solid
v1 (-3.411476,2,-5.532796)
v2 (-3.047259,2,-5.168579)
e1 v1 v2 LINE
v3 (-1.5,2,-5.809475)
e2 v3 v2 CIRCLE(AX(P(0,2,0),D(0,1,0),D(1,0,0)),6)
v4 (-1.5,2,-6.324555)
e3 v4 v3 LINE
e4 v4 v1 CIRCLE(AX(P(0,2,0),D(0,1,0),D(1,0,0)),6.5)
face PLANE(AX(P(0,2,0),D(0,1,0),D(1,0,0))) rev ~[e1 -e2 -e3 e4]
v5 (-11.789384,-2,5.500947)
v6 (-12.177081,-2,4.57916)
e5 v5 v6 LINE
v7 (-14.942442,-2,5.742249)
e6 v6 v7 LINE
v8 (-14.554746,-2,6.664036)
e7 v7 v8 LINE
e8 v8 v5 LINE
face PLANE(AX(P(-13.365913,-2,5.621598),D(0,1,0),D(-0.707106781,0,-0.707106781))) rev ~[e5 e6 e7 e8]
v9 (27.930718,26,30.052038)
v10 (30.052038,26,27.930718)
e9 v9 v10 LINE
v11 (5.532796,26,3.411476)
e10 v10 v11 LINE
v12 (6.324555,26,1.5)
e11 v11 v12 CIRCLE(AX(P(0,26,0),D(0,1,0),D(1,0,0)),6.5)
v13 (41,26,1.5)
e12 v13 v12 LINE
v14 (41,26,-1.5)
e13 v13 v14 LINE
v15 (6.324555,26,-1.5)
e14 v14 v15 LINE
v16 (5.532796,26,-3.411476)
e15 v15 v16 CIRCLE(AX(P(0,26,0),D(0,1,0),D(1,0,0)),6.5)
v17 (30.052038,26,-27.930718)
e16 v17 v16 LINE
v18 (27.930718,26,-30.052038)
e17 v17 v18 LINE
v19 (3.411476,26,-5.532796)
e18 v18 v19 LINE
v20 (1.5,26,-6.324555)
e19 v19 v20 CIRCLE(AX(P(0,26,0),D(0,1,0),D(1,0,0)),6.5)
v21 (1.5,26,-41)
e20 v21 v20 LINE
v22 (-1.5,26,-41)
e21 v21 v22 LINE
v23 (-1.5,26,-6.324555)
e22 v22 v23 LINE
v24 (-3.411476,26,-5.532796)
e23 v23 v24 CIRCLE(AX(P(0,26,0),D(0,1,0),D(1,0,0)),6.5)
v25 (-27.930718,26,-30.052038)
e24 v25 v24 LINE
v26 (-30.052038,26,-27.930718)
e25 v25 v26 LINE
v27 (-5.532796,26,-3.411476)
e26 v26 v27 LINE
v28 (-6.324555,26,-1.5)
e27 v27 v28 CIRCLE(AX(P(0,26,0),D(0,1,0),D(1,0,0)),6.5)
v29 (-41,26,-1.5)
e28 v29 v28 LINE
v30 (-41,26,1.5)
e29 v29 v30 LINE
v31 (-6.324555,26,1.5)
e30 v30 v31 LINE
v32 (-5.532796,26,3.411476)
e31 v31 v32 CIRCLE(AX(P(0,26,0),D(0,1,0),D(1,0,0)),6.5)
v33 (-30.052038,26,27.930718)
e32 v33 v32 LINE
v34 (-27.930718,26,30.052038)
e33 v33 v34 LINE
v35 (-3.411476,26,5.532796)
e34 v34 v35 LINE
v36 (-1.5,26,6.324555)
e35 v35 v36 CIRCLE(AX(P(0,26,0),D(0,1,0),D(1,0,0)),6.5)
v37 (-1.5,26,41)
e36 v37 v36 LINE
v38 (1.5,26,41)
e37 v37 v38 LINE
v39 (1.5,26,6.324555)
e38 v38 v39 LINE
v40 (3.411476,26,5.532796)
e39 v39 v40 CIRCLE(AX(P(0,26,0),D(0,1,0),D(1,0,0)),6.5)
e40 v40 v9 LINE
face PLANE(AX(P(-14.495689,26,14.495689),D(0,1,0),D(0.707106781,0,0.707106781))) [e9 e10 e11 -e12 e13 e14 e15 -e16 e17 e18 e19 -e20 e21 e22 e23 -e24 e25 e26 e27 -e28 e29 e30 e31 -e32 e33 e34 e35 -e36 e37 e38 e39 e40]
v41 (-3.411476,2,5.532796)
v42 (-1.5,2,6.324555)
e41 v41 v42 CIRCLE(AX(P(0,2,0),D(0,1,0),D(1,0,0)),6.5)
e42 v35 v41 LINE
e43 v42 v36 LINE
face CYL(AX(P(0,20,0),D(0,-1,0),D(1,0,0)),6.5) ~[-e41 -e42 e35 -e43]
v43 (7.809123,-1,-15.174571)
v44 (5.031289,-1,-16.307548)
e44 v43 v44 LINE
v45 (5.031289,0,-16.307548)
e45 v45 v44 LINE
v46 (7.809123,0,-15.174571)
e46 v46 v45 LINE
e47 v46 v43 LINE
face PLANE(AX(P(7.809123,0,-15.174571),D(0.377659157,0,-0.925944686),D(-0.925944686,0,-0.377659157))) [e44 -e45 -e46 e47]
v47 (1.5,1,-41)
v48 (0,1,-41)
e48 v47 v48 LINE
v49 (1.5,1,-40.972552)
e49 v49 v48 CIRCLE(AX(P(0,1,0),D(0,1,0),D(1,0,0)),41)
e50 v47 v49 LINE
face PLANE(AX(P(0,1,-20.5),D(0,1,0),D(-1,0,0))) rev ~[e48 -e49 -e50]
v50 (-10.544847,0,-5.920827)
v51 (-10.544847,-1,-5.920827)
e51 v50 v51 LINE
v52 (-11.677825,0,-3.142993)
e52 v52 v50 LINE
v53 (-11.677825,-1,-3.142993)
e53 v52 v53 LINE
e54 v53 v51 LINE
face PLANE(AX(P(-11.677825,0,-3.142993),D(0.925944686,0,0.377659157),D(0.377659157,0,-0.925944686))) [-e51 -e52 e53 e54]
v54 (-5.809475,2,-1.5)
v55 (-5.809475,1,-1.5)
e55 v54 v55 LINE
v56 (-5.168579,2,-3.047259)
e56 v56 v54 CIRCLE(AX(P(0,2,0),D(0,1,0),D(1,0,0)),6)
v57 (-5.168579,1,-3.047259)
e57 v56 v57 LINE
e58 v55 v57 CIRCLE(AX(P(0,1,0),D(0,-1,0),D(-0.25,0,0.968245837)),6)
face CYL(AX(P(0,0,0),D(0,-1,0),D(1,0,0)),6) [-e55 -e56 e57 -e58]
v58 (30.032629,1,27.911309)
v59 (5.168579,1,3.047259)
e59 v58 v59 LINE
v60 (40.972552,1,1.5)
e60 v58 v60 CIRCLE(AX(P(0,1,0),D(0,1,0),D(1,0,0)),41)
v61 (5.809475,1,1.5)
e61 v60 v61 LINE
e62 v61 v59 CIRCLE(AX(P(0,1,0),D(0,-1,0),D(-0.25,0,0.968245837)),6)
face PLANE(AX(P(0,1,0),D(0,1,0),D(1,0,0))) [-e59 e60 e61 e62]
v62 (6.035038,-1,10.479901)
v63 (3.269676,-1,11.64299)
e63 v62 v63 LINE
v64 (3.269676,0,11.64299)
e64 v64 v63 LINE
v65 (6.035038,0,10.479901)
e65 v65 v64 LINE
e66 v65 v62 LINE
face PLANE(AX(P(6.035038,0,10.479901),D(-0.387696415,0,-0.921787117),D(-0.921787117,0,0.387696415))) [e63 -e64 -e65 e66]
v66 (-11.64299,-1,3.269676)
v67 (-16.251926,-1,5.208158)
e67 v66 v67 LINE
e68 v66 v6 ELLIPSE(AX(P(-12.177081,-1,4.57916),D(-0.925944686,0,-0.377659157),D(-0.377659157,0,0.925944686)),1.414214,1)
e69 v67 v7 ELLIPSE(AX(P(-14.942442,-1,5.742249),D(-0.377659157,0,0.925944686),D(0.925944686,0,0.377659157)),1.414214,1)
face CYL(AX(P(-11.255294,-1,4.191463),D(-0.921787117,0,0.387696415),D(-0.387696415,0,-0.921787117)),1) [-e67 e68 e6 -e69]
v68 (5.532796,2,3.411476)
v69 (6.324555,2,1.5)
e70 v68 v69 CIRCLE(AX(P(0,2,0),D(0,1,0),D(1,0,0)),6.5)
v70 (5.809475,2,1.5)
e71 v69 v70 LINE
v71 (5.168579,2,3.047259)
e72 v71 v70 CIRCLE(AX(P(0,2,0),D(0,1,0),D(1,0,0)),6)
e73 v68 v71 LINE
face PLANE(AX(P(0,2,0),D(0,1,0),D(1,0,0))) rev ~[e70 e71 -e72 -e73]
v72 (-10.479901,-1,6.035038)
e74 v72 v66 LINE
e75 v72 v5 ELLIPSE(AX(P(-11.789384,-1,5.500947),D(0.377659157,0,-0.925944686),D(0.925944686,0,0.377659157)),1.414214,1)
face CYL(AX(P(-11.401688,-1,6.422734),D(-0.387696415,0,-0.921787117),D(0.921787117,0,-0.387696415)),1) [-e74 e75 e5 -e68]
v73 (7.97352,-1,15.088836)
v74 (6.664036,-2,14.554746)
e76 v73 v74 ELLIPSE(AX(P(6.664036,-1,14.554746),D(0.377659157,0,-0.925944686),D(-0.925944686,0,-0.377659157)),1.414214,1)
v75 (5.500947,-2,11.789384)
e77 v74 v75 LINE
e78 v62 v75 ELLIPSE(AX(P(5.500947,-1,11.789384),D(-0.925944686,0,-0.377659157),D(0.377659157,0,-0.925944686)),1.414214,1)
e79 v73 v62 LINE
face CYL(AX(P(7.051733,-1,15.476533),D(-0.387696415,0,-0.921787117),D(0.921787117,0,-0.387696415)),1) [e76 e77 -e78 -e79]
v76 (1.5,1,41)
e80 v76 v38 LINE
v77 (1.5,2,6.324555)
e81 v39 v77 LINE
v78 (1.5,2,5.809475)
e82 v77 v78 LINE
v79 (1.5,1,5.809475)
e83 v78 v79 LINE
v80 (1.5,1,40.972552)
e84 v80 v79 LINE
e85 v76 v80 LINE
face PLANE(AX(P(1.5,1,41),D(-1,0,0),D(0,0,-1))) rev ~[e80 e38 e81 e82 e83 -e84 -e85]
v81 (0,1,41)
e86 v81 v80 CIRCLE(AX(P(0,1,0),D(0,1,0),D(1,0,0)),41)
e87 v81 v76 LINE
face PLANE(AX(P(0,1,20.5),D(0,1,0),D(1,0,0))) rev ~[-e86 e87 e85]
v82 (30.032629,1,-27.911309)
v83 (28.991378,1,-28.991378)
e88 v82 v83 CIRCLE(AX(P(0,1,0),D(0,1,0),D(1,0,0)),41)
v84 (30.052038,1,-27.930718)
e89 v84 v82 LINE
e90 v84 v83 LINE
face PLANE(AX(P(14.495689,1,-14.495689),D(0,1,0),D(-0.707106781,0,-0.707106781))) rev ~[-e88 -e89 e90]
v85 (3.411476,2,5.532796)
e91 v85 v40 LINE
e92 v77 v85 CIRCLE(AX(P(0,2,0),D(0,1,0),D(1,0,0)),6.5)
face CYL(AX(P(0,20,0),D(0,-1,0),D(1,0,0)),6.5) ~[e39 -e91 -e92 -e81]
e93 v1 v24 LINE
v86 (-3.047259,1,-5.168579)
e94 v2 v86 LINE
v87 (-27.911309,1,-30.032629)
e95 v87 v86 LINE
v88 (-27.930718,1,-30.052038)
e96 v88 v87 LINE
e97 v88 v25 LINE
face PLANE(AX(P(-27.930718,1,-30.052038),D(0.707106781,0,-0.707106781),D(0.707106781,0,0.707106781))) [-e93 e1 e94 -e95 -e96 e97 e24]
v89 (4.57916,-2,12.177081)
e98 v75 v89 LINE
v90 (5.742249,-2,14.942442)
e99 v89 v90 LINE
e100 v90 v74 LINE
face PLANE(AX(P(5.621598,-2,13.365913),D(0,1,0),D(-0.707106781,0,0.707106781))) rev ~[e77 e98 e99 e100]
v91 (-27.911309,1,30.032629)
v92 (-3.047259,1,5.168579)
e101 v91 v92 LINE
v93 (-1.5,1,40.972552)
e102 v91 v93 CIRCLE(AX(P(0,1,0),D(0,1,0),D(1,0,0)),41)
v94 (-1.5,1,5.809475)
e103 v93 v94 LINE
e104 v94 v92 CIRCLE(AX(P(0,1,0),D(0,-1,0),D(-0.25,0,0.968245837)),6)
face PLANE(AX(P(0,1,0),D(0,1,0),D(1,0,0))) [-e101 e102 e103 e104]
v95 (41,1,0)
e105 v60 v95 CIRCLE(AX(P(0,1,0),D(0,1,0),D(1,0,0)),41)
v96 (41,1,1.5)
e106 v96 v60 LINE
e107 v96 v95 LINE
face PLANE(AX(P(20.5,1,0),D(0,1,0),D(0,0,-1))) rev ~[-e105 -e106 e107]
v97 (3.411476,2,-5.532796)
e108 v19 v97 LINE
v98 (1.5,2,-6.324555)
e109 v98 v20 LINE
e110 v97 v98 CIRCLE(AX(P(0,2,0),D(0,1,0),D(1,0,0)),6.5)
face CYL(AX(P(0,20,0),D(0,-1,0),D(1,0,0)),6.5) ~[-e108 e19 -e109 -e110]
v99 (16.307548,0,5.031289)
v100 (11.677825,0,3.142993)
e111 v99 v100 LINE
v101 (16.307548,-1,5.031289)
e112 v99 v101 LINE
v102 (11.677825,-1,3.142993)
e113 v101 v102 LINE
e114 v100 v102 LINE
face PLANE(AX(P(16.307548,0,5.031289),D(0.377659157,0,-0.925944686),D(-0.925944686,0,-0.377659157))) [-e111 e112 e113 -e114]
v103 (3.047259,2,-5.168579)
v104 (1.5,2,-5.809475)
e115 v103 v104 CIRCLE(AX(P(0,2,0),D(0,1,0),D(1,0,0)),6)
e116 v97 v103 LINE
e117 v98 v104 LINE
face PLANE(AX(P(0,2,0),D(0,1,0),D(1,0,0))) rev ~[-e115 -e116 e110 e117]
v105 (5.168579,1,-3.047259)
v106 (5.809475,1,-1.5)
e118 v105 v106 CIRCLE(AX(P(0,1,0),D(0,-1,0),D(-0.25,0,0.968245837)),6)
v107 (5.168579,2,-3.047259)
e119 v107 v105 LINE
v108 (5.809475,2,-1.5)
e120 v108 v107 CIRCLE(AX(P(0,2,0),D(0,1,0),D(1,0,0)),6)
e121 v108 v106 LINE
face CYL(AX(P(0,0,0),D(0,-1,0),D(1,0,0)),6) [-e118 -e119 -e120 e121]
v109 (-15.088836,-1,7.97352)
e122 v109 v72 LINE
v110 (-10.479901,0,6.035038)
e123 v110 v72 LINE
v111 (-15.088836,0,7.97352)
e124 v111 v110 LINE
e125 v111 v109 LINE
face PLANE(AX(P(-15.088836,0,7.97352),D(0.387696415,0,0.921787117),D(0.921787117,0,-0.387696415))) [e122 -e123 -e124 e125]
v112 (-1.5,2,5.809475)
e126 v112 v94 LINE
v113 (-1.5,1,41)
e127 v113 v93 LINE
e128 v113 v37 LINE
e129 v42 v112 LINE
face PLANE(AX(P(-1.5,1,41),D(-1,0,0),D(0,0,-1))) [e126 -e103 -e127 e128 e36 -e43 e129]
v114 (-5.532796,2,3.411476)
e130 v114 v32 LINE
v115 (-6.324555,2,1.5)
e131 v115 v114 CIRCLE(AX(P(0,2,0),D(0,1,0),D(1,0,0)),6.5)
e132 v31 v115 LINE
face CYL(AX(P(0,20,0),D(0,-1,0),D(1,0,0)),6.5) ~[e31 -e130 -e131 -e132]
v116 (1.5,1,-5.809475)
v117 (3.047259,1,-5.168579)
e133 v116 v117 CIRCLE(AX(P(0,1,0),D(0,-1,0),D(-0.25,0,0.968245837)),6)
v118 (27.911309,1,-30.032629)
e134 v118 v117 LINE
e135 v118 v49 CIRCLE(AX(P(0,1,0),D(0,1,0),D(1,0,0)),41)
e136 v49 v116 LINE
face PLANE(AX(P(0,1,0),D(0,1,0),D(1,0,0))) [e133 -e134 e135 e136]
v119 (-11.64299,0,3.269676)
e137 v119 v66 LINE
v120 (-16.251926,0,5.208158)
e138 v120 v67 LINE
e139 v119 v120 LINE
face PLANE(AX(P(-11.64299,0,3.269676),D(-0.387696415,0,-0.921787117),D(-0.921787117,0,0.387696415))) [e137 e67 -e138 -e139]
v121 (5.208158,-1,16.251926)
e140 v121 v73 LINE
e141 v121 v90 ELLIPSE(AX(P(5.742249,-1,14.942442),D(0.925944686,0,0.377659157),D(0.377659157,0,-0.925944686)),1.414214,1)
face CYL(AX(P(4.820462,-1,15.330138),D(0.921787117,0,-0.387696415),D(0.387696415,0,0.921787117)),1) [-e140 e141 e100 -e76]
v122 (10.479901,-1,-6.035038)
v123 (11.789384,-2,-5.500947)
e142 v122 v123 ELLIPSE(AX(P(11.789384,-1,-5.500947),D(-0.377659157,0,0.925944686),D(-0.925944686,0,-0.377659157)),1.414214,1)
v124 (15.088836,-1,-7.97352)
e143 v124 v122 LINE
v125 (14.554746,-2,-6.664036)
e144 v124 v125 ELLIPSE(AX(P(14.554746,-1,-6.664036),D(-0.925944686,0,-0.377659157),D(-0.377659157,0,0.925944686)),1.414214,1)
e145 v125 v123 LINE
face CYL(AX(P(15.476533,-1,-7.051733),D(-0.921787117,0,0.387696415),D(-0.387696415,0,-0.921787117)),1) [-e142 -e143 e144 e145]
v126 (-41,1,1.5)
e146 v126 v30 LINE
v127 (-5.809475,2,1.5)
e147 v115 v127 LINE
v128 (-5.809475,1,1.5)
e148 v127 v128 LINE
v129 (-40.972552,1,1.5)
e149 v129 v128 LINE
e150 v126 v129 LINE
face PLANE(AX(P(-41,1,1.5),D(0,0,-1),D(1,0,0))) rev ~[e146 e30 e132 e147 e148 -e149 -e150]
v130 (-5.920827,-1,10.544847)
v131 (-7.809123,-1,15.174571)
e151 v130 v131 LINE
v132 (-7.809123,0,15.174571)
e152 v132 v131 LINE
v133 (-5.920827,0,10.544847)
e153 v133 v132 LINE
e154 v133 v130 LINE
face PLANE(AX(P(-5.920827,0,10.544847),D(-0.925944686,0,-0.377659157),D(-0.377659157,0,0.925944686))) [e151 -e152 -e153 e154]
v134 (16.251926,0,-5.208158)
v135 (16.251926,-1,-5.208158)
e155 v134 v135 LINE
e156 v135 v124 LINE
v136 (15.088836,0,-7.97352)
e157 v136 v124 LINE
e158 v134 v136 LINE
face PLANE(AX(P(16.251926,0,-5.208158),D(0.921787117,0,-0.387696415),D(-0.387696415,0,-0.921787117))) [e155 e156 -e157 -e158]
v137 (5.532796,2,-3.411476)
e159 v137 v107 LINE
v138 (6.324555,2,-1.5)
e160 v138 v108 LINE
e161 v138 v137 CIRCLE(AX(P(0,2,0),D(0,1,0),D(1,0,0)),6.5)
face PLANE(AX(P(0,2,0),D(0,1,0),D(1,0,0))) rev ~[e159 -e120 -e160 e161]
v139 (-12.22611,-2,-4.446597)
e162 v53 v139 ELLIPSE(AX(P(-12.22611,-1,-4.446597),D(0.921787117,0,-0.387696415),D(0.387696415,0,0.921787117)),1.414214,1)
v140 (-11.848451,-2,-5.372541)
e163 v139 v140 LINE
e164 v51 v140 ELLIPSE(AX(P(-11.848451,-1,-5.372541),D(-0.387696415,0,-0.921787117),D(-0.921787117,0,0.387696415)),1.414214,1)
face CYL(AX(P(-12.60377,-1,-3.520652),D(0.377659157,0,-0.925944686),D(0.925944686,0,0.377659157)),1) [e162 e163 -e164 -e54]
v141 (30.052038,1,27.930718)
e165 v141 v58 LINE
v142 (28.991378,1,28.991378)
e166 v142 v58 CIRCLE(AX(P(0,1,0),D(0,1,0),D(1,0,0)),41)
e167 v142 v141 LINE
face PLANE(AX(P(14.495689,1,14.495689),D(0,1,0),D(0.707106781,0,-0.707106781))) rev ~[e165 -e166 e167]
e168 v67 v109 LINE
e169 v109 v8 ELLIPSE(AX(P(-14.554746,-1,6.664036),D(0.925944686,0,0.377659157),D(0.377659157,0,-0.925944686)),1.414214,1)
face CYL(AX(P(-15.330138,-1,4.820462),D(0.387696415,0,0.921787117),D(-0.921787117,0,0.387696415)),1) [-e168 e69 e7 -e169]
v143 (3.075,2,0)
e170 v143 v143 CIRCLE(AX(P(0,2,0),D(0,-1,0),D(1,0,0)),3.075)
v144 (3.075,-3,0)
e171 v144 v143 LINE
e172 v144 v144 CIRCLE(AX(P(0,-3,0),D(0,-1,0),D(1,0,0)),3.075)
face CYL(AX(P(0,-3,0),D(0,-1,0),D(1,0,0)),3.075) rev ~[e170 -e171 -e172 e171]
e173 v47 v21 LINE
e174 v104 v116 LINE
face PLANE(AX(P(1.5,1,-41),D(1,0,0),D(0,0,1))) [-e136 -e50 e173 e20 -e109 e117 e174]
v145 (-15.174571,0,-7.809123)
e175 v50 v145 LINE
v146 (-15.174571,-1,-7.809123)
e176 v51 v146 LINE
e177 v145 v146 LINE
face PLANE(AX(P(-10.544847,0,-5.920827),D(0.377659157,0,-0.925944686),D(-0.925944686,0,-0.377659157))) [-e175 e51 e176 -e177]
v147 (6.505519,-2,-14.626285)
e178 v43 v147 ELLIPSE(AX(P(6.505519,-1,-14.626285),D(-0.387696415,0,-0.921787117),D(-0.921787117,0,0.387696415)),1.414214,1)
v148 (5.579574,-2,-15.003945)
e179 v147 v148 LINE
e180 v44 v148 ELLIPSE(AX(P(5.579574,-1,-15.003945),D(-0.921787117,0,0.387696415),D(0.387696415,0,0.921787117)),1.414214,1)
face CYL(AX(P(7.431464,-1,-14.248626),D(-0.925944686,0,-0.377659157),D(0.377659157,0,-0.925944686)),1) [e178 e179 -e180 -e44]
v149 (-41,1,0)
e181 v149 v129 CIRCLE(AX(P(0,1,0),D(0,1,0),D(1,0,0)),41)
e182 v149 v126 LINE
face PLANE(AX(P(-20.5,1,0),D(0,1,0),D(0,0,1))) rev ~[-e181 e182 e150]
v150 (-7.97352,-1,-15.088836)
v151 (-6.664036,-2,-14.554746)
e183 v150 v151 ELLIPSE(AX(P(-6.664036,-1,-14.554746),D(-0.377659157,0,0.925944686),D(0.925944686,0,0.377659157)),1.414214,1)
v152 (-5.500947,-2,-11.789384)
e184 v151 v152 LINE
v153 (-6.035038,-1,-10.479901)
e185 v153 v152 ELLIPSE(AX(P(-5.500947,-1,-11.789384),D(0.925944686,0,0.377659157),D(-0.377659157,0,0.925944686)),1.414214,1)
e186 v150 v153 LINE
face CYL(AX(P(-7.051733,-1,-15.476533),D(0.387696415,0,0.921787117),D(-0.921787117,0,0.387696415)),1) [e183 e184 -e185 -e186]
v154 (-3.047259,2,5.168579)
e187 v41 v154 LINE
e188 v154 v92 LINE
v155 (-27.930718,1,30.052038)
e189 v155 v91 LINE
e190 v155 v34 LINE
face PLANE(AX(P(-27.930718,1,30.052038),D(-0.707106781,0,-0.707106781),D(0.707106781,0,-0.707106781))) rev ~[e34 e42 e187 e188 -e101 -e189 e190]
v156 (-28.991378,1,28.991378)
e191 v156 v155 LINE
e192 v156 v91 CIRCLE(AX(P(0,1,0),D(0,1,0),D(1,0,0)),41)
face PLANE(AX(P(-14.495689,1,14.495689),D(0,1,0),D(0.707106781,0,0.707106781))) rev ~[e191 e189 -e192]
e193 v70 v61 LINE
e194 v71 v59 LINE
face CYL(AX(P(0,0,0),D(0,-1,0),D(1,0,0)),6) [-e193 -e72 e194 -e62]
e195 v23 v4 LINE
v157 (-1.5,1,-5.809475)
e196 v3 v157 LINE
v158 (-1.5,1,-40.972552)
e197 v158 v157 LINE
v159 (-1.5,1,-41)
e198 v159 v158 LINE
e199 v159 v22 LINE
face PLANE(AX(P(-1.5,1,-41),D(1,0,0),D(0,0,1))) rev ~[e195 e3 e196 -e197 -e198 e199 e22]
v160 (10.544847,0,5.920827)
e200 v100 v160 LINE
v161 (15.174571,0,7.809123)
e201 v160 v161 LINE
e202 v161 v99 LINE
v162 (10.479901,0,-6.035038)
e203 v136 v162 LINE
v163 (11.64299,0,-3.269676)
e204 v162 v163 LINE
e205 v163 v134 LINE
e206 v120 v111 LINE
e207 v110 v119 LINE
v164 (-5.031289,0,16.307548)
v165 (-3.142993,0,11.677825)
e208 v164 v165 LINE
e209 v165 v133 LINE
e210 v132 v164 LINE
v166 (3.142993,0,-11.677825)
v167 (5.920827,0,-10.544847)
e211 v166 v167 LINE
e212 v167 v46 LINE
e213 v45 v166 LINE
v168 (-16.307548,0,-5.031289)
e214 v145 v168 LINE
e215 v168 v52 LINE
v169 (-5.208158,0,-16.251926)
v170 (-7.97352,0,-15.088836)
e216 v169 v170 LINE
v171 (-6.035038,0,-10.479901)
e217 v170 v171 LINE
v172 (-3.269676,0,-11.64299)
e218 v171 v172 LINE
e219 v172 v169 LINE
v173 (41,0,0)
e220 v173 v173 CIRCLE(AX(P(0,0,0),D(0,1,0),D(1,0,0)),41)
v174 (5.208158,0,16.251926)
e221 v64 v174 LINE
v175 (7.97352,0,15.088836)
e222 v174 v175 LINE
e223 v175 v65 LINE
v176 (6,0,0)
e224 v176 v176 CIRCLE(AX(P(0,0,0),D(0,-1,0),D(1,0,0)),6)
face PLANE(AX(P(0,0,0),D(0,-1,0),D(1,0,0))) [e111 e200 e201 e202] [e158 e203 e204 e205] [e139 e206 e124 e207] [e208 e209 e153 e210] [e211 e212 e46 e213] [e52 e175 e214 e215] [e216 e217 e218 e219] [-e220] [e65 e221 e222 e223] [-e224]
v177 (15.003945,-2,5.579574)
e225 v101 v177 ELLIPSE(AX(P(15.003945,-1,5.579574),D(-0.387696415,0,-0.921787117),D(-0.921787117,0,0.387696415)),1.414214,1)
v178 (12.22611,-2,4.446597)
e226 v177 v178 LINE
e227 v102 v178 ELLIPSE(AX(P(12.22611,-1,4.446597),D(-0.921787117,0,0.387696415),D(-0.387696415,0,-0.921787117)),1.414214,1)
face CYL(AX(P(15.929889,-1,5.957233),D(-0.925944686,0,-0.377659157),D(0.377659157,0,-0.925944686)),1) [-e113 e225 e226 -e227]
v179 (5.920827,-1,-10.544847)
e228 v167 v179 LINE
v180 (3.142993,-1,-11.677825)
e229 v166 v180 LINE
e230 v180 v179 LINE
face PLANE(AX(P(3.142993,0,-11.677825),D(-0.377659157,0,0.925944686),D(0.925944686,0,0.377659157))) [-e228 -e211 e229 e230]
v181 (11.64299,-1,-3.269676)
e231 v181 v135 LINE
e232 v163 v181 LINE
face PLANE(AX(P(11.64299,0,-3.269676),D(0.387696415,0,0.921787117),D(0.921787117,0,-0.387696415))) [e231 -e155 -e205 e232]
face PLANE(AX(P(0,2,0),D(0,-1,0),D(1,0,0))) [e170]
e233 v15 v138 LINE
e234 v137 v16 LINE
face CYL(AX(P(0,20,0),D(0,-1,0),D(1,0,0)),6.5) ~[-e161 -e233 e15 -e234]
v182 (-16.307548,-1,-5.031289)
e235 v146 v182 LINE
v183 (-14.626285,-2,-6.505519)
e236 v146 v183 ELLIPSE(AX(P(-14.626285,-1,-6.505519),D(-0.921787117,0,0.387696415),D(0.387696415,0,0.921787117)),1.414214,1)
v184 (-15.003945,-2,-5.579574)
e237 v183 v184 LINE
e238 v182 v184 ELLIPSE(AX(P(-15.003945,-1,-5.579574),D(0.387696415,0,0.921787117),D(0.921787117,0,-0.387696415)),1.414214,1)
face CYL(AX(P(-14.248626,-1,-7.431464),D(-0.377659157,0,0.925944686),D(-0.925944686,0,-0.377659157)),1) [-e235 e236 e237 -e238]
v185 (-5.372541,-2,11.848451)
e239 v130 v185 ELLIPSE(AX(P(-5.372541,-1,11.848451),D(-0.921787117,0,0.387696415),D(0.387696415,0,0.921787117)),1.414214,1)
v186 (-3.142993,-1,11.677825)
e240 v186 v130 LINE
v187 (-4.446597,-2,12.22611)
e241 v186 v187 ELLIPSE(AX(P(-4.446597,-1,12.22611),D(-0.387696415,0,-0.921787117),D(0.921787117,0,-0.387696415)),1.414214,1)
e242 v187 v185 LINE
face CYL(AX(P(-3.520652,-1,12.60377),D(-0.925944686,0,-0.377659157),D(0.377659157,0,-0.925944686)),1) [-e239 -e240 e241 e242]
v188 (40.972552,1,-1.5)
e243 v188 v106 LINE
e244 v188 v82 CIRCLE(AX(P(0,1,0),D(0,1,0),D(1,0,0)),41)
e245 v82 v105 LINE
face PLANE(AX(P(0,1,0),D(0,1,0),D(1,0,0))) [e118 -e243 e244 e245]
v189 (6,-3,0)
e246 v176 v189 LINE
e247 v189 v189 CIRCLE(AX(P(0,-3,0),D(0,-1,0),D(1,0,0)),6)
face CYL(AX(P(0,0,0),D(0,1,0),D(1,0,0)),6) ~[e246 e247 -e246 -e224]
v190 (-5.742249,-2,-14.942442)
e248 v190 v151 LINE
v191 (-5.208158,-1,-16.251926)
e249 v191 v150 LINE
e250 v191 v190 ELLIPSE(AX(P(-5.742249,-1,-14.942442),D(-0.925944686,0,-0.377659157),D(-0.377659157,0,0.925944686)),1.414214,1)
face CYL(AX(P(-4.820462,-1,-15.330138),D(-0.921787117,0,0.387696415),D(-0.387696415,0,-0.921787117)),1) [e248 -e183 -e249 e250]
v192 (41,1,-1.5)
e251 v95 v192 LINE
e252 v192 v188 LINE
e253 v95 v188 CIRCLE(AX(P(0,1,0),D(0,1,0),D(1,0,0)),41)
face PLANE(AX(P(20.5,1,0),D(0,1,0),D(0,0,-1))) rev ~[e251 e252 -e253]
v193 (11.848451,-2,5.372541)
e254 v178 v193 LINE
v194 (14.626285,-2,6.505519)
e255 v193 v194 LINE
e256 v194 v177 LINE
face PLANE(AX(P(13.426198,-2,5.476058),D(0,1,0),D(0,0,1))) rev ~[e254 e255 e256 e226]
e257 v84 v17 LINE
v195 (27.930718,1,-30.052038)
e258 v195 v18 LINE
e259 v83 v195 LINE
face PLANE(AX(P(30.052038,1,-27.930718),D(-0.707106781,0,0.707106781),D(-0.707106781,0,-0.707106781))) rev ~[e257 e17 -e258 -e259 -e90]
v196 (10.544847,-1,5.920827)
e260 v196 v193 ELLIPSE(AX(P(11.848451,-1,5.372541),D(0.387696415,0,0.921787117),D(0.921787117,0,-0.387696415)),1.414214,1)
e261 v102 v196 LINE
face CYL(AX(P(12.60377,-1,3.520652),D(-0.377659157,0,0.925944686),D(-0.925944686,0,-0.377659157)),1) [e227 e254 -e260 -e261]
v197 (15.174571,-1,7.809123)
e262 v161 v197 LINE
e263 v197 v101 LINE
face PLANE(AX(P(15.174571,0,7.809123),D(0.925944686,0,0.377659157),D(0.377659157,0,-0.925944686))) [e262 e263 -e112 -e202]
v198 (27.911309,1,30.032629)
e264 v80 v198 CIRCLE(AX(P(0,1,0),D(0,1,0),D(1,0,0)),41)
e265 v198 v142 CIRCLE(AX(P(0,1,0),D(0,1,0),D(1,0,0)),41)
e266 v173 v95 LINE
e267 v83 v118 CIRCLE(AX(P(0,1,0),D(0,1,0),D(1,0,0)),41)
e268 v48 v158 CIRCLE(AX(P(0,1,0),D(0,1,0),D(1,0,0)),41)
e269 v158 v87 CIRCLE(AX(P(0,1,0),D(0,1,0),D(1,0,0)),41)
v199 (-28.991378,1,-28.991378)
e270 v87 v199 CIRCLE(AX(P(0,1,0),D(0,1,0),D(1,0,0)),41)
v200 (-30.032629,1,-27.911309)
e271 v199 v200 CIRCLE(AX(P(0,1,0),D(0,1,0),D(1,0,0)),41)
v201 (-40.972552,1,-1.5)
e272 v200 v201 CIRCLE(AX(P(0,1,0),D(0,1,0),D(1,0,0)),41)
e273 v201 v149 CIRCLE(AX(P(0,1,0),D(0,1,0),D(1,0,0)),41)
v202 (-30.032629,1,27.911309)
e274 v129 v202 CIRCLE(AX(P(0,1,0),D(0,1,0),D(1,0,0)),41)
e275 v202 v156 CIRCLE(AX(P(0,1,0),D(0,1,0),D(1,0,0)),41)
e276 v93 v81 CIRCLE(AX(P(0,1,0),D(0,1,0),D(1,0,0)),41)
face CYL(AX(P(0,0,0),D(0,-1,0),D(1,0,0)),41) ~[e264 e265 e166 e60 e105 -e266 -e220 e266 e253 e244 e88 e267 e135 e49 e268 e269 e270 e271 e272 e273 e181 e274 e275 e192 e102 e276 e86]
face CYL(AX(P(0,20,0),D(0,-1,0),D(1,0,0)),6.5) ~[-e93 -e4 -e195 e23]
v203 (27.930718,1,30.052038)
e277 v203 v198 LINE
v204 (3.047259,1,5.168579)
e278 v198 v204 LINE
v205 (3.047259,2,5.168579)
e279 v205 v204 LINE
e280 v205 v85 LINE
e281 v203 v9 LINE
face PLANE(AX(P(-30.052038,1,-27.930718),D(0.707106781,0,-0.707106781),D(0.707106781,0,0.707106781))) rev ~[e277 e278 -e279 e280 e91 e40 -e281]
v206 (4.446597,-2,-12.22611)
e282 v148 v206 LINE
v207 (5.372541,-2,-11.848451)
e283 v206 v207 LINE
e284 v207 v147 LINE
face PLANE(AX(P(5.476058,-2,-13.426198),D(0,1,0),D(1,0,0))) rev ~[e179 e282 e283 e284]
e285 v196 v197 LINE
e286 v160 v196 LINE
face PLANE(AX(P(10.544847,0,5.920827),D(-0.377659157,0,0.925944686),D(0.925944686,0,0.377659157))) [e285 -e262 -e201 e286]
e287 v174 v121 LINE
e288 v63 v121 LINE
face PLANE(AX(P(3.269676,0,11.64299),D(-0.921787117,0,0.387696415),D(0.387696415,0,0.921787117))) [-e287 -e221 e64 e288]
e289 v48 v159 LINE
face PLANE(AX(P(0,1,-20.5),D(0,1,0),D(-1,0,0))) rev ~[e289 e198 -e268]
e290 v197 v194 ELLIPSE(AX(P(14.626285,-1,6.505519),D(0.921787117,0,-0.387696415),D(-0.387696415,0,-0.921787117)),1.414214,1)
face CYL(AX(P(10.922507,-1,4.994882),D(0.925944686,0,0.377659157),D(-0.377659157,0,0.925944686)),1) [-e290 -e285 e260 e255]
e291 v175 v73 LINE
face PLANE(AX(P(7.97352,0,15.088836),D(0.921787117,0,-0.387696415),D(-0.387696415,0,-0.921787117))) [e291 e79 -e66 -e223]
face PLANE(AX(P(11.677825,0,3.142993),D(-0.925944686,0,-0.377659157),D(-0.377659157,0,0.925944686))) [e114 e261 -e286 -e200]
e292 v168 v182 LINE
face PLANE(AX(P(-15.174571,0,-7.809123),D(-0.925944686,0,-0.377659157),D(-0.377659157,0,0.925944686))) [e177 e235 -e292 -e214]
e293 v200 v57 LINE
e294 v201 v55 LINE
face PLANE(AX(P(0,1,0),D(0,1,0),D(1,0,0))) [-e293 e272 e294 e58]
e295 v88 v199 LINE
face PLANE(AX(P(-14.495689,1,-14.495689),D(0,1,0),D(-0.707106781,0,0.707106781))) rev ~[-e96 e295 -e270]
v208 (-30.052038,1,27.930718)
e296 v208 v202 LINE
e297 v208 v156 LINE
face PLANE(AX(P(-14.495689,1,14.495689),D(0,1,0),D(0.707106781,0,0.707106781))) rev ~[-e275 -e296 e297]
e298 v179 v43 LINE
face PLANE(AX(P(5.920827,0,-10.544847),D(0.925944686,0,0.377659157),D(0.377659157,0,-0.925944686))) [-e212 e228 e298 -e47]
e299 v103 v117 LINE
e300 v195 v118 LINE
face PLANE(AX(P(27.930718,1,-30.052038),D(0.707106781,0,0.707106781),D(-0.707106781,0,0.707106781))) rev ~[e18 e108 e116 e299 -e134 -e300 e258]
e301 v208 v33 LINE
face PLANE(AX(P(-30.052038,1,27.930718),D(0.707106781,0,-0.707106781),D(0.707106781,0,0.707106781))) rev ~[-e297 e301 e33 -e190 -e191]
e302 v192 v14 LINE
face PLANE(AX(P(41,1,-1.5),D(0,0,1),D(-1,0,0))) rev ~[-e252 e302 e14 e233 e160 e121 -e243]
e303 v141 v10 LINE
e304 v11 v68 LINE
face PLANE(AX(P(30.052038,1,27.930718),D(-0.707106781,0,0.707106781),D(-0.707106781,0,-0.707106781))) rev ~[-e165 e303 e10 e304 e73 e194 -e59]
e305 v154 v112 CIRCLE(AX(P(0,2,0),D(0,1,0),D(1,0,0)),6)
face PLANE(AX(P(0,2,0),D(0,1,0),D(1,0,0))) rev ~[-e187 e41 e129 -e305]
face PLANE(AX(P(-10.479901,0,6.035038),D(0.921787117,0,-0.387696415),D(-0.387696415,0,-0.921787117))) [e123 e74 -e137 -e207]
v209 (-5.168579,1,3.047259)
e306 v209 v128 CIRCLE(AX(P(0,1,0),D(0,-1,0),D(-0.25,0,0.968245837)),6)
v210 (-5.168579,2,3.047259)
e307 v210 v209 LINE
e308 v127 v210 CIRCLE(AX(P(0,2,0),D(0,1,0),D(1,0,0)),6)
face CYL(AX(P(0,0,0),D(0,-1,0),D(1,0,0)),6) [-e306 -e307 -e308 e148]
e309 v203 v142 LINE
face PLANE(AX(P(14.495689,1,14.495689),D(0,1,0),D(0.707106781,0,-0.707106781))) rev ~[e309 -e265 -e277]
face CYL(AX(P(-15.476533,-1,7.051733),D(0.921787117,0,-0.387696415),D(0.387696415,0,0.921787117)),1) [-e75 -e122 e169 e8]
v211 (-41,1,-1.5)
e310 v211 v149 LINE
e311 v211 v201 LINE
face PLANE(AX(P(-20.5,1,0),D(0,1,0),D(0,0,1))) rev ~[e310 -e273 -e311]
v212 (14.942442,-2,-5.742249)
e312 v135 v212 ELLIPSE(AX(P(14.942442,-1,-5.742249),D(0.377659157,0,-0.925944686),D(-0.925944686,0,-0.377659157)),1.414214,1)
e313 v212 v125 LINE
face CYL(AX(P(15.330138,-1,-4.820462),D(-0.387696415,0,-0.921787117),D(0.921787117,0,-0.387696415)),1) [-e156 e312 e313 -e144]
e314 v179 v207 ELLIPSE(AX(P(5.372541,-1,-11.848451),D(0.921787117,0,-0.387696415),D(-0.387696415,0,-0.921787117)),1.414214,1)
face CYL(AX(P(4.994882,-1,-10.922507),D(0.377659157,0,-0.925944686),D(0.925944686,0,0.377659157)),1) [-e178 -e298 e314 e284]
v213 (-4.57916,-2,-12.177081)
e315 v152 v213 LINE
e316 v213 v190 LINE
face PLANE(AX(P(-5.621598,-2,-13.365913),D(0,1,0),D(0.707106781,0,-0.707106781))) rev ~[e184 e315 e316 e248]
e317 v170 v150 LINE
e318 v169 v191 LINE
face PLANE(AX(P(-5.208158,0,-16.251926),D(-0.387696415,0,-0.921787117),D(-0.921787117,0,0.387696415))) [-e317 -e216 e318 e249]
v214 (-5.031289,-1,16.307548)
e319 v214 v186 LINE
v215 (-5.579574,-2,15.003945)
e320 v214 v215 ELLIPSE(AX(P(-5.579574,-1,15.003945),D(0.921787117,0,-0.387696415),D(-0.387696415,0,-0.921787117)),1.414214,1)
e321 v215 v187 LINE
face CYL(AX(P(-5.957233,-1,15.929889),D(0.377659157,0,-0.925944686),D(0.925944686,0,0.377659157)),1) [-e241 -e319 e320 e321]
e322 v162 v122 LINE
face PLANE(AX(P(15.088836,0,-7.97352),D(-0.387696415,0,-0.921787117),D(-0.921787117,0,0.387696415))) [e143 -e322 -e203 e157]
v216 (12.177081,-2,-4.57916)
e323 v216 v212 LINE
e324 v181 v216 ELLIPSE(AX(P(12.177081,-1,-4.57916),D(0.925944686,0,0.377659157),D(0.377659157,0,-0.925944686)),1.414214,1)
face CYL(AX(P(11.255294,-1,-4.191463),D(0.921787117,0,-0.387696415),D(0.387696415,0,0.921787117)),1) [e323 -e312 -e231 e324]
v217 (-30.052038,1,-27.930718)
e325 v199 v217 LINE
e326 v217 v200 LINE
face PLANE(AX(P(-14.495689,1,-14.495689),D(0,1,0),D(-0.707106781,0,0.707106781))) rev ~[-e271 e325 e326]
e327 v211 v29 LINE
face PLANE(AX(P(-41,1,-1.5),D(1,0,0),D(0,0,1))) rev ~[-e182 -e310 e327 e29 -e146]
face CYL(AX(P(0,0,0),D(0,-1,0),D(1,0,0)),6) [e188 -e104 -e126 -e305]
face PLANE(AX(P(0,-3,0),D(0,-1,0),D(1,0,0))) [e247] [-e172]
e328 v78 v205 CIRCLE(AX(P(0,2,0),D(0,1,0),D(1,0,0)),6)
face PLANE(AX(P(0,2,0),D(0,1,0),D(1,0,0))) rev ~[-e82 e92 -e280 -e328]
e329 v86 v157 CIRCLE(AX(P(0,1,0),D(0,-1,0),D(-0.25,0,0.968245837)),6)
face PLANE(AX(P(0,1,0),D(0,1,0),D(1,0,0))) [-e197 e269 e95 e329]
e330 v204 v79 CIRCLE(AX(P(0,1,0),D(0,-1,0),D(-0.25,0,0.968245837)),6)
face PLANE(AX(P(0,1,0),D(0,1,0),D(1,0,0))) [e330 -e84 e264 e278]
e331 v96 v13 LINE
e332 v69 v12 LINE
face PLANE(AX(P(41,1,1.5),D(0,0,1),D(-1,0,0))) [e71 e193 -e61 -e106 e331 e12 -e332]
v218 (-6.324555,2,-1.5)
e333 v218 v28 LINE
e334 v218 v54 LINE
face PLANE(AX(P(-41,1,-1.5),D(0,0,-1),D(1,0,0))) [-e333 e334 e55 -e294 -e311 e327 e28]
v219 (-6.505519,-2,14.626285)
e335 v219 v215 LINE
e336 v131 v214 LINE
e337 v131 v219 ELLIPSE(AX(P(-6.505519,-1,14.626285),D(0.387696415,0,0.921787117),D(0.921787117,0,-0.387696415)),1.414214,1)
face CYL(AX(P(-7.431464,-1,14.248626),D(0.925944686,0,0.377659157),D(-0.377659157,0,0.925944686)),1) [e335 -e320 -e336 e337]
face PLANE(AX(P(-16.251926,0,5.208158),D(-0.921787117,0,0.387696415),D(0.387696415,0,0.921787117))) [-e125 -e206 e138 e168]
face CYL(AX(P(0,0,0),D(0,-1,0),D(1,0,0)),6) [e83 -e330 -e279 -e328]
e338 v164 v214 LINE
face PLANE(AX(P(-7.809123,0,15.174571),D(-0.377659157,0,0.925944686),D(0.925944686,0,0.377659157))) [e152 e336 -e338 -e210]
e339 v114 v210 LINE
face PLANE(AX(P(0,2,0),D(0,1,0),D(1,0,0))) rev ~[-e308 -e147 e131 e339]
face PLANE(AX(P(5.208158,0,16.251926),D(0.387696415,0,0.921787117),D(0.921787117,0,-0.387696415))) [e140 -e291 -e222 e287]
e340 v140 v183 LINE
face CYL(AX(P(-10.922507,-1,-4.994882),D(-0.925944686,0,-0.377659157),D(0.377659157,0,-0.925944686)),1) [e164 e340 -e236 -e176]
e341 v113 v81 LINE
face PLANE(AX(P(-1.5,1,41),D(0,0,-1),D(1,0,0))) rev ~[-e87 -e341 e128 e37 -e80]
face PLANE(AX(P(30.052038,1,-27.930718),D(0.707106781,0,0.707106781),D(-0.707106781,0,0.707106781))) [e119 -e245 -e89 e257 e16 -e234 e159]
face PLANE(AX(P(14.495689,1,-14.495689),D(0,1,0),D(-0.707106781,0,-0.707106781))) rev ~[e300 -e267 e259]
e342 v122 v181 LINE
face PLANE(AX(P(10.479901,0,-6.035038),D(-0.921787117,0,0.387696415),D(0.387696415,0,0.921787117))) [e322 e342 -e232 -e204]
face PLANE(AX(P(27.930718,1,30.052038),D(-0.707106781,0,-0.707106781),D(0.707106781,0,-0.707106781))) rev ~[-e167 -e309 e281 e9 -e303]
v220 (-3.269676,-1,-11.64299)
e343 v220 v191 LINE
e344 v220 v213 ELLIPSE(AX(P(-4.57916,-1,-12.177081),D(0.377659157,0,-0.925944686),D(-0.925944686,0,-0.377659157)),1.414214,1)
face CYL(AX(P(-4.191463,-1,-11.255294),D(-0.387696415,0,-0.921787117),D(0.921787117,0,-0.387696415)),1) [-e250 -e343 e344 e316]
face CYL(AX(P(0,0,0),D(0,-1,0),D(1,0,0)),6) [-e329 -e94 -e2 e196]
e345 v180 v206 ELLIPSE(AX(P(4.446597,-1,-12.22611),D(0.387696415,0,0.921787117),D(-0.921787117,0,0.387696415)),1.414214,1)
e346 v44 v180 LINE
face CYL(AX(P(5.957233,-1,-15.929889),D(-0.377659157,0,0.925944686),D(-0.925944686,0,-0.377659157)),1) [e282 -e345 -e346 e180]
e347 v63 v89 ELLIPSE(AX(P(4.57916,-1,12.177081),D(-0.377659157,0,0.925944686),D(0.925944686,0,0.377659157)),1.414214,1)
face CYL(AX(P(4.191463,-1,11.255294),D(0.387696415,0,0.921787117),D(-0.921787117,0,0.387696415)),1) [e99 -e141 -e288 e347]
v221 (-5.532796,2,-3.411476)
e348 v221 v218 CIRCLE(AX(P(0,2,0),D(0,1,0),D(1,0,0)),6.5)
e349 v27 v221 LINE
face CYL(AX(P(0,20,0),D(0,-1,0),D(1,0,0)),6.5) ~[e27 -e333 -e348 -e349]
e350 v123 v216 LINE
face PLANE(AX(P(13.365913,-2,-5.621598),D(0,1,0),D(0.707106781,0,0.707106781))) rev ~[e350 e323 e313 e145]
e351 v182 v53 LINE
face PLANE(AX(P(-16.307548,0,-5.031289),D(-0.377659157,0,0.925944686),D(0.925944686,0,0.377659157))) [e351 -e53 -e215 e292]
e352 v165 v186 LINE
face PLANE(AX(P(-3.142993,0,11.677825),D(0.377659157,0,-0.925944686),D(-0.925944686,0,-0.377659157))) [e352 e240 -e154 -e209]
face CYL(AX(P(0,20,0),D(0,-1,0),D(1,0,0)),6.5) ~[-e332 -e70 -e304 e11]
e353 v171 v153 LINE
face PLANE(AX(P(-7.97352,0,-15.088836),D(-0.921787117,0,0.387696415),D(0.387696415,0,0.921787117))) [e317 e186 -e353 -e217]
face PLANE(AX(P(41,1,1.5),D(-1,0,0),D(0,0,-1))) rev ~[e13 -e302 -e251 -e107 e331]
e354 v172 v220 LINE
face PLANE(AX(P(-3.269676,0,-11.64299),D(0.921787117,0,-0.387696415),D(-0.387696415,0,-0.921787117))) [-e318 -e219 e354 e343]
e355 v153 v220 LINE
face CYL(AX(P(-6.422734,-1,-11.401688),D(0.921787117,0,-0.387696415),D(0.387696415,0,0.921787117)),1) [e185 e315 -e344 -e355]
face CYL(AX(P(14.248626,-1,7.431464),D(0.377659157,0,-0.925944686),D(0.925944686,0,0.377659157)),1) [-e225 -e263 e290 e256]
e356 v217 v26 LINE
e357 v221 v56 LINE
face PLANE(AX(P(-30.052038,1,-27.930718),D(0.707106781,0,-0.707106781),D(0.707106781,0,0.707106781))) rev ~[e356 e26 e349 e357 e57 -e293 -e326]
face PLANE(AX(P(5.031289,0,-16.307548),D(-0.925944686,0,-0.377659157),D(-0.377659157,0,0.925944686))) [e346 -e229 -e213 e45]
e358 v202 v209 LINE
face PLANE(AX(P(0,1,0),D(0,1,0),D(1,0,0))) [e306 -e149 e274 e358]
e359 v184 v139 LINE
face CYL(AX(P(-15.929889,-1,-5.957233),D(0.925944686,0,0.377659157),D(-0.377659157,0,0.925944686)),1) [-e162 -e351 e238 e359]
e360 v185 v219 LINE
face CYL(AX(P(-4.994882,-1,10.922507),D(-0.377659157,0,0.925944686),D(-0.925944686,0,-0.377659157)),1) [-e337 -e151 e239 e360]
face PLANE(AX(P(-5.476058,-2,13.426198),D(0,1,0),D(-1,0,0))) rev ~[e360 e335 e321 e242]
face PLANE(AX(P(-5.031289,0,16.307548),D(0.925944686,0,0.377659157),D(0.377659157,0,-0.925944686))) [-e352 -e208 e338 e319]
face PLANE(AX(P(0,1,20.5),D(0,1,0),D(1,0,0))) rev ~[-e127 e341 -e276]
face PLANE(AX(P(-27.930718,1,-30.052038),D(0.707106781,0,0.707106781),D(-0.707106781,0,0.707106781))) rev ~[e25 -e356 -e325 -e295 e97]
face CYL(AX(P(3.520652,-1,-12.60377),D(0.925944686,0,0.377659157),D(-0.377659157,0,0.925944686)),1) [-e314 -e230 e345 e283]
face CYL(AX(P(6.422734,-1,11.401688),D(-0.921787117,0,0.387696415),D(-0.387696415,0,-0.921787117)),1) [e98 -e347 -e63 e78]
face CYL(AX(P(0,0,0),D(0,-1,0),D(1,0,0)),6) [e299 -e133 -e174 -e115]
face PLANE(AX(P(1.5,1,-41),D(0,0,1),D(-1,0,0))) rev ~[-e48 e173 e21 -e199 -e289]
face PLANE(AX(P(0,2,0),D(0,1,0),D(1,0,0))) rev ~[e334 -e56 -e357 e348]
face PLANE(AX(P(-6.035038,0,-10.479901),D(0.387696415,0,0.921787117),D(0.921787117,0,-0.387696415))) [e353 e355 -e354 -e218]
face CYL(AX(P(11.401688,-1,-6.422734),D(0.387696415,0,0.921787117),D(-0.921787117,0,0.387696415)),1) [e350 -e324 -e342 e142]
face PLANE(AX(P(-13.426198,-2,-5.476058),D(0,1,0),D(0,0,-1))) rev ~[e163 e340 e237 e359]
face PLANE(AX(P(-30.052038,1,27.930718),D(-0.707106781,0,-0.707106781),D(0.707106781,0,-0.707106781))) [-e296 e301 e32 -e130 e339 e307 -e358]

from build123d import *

# Parameters (mm, degrees)
SKETCH1_R            = 41
BOSS_EXTRUDE1_DEPTH  = 1
SKETCH6_W            = 3
SKETCH6_H            = 41
BOSS_EXTRUDE7_DEPTH  = 25
SKETCH7_R            = 6
BOSS_EXTRUDE8_DEPTH  = 24
SKETCH9_R            = 6
CUT_EXTRUDE3_DEPTH   = 5
CIRPATTERN1_COUNT    = 8
SKETCH11_R           = 6
CUT_EXTRUDE5_DEPTH   = 6
BOSS_EXTRUDE9_DEPTH  = 2
CIRPATTERN2_COUNT    = 8
FILLET1_R            = 1
SKETCH13_R           = 6.5
BOSS_EXTRUDE17_DEPTH = 6
SKETCH16_R           = 6.5
SKETCH16_R_2         = 6
BOSS_EXTRUDE18_DEPTH = 24
SKETCH15_R           = 6
BOSS_EXTRUDE19_DEPTH = 3
SKETCH17_R           = 3.075
CUT_EXTRUDE10_DEPTH  = 5


with BuildPart() as part:
    # Sketch1 → Boss-Extrude1 (new body)
    with BuildSketch(Plane(origin=(0, 0, 0), x_dir=(1, 0, 0), z_dir=(0, 1, 0))):
        Circle(SKETCH1_R)
    extrude(amount=BOSS_EXTRUDE1_DEPTH)

    # Sketch6 → Boss-Extrude7 (add)
    with BuildSketch(Plane(origin=(0, 1, 0), x_dir=(1, 0, 0), z_dir=(0, 1, 0))):
        with Locations((0, -20.5)):
            Rectangle(SKETCH6_W, SKETCH6_H)
    boss_extrude7 = extrude(amount=BOSS_EXTRUDE7_DEPTH)

    # Sketch7 → Boss-Extrude8 (add)
    with BuildSketch(Plane.XZ):
        Circle(SKETCH7_R)
    extrude(amount=-BOSS_EXTRUDE8_DEPTH)

    # Sketch9 → Cut-Extrude3 (cut)
    with BuildSketch(Plane(origin=(0, 26, 0), x_dir=(1, 0, 0), z_dir=(0, 1, 0))):
        Circle(SKETCH9_R)
    extrude(amount=-CUT_EXTRUDE3_DEPTH, mode=Mode.SUBTRACT)

    # CirPattern1: Boss-Extrude7 ×8 about axis
    cirpattern1_axis = Axis((0, 0, 0), (0, 1, 0))
    for i in range(1, CIRPATTERN1_COUNT):
        add(boss_extrude7.rotate(cirpattern1_axis, i * 360 / CIRPATTERN1_COUNT))

    # Sketch11 → Cut-Extrude5 (cut)
    with BuildSketch(Plane(origin=(0, 26, 0), x_dir=(1, 0, 0), z_dir=(0, 1, 0))):
        Circle(SKETCH11_R)
    extrude(amount=-CUT_EXTRUDE5_DEPTH, mode=Mode.SUBTRACT)

    # Sketch10 → Boss-Extrude9 (add)
    with BuildSketch(Plane(origin=(0, 0, 0), x_dir=(-1, 0, 0), z_dir=(0, -1, 0))):
        Polygon((-3.142992858, 11.677824964), (-5.920826915, 10.544847493), (-7.809122701, 15.174570921), (-5.031288644, 16.307548393), align=None)
    boss_extrude9 = extrude(amount=BOSS_EXTRUDE9_DEPTH)

    # CirPattern2: Boss-Extrude9 ×8 about axis
    cirpattern2_axis = Axis((0, 0, 0), (0, 1, 0))
    for i in range(1, CIRPATTERN2_COUNT):
        add(boss_extrude9.rotate(cirpattern2_axis, i * 360 / CIRPATTERN2_COUNT))

    # Fillet1
    fillet1_edges = [part.edges().sort_by_distance(p)[0] for p in [
        (4.087140751, -2, -13.992686678),
        (6.420205673, -2, -15.741059657),
        (6.864974808, -2, -12.859709207),
        (4.531909887, -2, -11.111336228),
        (-7.004278697, -2, -12.784368578),
        (-6.590839059, -2, -15.670380994),
        (-4.238917345, -2, -13.947457824),
        (-4.652356983, -2, -11.061445408),
        (-13.992686678, -2, -4.087140751),
        (-15.741059657, -2, -6.420205673),
        (-12.859709207, -2, -6.864974808),
        (-11.111336228, -2, -4.531909887),
        (-12.784368578, -2, 7.004278697),
        (-15.670380994, -2, 6.590839059),
        (-13.947457824, -2, 4.238917345),
        (-11.061445408, -2, 4.652356983),
        (-4.087140751, -2, 13.992686678),
        (-6.420205673, -2, 15.741059657),
        (-6.864974808, -2, 12.859709207),
        (-4.531909887, -2, 11.111336228),
        (7.004278697, -2, 12.784368578),
        (6.590839059, -2, 15.670380994),
        (4.238917345, -2, 13.947457824),
        (4.652356983, -2, 11.061445408),
        (13.992686678, -2, 4.087140751),
        (15.741059657, -2, 6.420205673),
        (12.859709207, -2, 6.864974808),
        (11.111336228, -2, 4.531909887),
        (12.784368578, -2, -7.004278697),
        (15.670380994, -2, -6.590839059),
        (13.947457824, -2, -4.238917345),
        (11.061445408, -2, -4.652356983),
    ]]
    fillet(fillet1_edges, radius=FILLET1_R)

    # Sketch13 → Boss-Extrude17 (add)
    with BuildSketch(Plane(origin=(0, 20, 0), x_dir=(1, 0, 0), z_dir=(0, 1, 0))):
        Circle(SKETCH13_R)
    extrude(amount=BOSS_EXTRUDE17_DEPTH)

    # Sketch16 → Boss-Extrude18 (add)
    with BuildSketch(Plane(origin=(0, 26, 0), x_dir=(1, 0, 0), z_dir=(0, 1, 0))):
        Circle(SKETCH16_R)
        Circle(SKETCH16_R_2, mode=Mode.SUBTRACT)
    extrude(amount=-BOSS_EXTRUDE18_DEPTH)

    # Sketch15 → Boss-Extrude19 (add)
    with BuildSketch(Plane.XZ):
        Circle(SKETCH15_R)
    extrude(amount=BOSS_EXTRUDE19_DEPTH)

    # Sketch17 → Cut-Extrude10 (cut)
    with BuildSketch(Plane.XZ.offset(3)):
        Circle(SKETCH17_R)
    extrude(amount=-CUT_EXTRUDE10_DEPTH, mode=Mode.SUBTRACT)


solid = part.part
